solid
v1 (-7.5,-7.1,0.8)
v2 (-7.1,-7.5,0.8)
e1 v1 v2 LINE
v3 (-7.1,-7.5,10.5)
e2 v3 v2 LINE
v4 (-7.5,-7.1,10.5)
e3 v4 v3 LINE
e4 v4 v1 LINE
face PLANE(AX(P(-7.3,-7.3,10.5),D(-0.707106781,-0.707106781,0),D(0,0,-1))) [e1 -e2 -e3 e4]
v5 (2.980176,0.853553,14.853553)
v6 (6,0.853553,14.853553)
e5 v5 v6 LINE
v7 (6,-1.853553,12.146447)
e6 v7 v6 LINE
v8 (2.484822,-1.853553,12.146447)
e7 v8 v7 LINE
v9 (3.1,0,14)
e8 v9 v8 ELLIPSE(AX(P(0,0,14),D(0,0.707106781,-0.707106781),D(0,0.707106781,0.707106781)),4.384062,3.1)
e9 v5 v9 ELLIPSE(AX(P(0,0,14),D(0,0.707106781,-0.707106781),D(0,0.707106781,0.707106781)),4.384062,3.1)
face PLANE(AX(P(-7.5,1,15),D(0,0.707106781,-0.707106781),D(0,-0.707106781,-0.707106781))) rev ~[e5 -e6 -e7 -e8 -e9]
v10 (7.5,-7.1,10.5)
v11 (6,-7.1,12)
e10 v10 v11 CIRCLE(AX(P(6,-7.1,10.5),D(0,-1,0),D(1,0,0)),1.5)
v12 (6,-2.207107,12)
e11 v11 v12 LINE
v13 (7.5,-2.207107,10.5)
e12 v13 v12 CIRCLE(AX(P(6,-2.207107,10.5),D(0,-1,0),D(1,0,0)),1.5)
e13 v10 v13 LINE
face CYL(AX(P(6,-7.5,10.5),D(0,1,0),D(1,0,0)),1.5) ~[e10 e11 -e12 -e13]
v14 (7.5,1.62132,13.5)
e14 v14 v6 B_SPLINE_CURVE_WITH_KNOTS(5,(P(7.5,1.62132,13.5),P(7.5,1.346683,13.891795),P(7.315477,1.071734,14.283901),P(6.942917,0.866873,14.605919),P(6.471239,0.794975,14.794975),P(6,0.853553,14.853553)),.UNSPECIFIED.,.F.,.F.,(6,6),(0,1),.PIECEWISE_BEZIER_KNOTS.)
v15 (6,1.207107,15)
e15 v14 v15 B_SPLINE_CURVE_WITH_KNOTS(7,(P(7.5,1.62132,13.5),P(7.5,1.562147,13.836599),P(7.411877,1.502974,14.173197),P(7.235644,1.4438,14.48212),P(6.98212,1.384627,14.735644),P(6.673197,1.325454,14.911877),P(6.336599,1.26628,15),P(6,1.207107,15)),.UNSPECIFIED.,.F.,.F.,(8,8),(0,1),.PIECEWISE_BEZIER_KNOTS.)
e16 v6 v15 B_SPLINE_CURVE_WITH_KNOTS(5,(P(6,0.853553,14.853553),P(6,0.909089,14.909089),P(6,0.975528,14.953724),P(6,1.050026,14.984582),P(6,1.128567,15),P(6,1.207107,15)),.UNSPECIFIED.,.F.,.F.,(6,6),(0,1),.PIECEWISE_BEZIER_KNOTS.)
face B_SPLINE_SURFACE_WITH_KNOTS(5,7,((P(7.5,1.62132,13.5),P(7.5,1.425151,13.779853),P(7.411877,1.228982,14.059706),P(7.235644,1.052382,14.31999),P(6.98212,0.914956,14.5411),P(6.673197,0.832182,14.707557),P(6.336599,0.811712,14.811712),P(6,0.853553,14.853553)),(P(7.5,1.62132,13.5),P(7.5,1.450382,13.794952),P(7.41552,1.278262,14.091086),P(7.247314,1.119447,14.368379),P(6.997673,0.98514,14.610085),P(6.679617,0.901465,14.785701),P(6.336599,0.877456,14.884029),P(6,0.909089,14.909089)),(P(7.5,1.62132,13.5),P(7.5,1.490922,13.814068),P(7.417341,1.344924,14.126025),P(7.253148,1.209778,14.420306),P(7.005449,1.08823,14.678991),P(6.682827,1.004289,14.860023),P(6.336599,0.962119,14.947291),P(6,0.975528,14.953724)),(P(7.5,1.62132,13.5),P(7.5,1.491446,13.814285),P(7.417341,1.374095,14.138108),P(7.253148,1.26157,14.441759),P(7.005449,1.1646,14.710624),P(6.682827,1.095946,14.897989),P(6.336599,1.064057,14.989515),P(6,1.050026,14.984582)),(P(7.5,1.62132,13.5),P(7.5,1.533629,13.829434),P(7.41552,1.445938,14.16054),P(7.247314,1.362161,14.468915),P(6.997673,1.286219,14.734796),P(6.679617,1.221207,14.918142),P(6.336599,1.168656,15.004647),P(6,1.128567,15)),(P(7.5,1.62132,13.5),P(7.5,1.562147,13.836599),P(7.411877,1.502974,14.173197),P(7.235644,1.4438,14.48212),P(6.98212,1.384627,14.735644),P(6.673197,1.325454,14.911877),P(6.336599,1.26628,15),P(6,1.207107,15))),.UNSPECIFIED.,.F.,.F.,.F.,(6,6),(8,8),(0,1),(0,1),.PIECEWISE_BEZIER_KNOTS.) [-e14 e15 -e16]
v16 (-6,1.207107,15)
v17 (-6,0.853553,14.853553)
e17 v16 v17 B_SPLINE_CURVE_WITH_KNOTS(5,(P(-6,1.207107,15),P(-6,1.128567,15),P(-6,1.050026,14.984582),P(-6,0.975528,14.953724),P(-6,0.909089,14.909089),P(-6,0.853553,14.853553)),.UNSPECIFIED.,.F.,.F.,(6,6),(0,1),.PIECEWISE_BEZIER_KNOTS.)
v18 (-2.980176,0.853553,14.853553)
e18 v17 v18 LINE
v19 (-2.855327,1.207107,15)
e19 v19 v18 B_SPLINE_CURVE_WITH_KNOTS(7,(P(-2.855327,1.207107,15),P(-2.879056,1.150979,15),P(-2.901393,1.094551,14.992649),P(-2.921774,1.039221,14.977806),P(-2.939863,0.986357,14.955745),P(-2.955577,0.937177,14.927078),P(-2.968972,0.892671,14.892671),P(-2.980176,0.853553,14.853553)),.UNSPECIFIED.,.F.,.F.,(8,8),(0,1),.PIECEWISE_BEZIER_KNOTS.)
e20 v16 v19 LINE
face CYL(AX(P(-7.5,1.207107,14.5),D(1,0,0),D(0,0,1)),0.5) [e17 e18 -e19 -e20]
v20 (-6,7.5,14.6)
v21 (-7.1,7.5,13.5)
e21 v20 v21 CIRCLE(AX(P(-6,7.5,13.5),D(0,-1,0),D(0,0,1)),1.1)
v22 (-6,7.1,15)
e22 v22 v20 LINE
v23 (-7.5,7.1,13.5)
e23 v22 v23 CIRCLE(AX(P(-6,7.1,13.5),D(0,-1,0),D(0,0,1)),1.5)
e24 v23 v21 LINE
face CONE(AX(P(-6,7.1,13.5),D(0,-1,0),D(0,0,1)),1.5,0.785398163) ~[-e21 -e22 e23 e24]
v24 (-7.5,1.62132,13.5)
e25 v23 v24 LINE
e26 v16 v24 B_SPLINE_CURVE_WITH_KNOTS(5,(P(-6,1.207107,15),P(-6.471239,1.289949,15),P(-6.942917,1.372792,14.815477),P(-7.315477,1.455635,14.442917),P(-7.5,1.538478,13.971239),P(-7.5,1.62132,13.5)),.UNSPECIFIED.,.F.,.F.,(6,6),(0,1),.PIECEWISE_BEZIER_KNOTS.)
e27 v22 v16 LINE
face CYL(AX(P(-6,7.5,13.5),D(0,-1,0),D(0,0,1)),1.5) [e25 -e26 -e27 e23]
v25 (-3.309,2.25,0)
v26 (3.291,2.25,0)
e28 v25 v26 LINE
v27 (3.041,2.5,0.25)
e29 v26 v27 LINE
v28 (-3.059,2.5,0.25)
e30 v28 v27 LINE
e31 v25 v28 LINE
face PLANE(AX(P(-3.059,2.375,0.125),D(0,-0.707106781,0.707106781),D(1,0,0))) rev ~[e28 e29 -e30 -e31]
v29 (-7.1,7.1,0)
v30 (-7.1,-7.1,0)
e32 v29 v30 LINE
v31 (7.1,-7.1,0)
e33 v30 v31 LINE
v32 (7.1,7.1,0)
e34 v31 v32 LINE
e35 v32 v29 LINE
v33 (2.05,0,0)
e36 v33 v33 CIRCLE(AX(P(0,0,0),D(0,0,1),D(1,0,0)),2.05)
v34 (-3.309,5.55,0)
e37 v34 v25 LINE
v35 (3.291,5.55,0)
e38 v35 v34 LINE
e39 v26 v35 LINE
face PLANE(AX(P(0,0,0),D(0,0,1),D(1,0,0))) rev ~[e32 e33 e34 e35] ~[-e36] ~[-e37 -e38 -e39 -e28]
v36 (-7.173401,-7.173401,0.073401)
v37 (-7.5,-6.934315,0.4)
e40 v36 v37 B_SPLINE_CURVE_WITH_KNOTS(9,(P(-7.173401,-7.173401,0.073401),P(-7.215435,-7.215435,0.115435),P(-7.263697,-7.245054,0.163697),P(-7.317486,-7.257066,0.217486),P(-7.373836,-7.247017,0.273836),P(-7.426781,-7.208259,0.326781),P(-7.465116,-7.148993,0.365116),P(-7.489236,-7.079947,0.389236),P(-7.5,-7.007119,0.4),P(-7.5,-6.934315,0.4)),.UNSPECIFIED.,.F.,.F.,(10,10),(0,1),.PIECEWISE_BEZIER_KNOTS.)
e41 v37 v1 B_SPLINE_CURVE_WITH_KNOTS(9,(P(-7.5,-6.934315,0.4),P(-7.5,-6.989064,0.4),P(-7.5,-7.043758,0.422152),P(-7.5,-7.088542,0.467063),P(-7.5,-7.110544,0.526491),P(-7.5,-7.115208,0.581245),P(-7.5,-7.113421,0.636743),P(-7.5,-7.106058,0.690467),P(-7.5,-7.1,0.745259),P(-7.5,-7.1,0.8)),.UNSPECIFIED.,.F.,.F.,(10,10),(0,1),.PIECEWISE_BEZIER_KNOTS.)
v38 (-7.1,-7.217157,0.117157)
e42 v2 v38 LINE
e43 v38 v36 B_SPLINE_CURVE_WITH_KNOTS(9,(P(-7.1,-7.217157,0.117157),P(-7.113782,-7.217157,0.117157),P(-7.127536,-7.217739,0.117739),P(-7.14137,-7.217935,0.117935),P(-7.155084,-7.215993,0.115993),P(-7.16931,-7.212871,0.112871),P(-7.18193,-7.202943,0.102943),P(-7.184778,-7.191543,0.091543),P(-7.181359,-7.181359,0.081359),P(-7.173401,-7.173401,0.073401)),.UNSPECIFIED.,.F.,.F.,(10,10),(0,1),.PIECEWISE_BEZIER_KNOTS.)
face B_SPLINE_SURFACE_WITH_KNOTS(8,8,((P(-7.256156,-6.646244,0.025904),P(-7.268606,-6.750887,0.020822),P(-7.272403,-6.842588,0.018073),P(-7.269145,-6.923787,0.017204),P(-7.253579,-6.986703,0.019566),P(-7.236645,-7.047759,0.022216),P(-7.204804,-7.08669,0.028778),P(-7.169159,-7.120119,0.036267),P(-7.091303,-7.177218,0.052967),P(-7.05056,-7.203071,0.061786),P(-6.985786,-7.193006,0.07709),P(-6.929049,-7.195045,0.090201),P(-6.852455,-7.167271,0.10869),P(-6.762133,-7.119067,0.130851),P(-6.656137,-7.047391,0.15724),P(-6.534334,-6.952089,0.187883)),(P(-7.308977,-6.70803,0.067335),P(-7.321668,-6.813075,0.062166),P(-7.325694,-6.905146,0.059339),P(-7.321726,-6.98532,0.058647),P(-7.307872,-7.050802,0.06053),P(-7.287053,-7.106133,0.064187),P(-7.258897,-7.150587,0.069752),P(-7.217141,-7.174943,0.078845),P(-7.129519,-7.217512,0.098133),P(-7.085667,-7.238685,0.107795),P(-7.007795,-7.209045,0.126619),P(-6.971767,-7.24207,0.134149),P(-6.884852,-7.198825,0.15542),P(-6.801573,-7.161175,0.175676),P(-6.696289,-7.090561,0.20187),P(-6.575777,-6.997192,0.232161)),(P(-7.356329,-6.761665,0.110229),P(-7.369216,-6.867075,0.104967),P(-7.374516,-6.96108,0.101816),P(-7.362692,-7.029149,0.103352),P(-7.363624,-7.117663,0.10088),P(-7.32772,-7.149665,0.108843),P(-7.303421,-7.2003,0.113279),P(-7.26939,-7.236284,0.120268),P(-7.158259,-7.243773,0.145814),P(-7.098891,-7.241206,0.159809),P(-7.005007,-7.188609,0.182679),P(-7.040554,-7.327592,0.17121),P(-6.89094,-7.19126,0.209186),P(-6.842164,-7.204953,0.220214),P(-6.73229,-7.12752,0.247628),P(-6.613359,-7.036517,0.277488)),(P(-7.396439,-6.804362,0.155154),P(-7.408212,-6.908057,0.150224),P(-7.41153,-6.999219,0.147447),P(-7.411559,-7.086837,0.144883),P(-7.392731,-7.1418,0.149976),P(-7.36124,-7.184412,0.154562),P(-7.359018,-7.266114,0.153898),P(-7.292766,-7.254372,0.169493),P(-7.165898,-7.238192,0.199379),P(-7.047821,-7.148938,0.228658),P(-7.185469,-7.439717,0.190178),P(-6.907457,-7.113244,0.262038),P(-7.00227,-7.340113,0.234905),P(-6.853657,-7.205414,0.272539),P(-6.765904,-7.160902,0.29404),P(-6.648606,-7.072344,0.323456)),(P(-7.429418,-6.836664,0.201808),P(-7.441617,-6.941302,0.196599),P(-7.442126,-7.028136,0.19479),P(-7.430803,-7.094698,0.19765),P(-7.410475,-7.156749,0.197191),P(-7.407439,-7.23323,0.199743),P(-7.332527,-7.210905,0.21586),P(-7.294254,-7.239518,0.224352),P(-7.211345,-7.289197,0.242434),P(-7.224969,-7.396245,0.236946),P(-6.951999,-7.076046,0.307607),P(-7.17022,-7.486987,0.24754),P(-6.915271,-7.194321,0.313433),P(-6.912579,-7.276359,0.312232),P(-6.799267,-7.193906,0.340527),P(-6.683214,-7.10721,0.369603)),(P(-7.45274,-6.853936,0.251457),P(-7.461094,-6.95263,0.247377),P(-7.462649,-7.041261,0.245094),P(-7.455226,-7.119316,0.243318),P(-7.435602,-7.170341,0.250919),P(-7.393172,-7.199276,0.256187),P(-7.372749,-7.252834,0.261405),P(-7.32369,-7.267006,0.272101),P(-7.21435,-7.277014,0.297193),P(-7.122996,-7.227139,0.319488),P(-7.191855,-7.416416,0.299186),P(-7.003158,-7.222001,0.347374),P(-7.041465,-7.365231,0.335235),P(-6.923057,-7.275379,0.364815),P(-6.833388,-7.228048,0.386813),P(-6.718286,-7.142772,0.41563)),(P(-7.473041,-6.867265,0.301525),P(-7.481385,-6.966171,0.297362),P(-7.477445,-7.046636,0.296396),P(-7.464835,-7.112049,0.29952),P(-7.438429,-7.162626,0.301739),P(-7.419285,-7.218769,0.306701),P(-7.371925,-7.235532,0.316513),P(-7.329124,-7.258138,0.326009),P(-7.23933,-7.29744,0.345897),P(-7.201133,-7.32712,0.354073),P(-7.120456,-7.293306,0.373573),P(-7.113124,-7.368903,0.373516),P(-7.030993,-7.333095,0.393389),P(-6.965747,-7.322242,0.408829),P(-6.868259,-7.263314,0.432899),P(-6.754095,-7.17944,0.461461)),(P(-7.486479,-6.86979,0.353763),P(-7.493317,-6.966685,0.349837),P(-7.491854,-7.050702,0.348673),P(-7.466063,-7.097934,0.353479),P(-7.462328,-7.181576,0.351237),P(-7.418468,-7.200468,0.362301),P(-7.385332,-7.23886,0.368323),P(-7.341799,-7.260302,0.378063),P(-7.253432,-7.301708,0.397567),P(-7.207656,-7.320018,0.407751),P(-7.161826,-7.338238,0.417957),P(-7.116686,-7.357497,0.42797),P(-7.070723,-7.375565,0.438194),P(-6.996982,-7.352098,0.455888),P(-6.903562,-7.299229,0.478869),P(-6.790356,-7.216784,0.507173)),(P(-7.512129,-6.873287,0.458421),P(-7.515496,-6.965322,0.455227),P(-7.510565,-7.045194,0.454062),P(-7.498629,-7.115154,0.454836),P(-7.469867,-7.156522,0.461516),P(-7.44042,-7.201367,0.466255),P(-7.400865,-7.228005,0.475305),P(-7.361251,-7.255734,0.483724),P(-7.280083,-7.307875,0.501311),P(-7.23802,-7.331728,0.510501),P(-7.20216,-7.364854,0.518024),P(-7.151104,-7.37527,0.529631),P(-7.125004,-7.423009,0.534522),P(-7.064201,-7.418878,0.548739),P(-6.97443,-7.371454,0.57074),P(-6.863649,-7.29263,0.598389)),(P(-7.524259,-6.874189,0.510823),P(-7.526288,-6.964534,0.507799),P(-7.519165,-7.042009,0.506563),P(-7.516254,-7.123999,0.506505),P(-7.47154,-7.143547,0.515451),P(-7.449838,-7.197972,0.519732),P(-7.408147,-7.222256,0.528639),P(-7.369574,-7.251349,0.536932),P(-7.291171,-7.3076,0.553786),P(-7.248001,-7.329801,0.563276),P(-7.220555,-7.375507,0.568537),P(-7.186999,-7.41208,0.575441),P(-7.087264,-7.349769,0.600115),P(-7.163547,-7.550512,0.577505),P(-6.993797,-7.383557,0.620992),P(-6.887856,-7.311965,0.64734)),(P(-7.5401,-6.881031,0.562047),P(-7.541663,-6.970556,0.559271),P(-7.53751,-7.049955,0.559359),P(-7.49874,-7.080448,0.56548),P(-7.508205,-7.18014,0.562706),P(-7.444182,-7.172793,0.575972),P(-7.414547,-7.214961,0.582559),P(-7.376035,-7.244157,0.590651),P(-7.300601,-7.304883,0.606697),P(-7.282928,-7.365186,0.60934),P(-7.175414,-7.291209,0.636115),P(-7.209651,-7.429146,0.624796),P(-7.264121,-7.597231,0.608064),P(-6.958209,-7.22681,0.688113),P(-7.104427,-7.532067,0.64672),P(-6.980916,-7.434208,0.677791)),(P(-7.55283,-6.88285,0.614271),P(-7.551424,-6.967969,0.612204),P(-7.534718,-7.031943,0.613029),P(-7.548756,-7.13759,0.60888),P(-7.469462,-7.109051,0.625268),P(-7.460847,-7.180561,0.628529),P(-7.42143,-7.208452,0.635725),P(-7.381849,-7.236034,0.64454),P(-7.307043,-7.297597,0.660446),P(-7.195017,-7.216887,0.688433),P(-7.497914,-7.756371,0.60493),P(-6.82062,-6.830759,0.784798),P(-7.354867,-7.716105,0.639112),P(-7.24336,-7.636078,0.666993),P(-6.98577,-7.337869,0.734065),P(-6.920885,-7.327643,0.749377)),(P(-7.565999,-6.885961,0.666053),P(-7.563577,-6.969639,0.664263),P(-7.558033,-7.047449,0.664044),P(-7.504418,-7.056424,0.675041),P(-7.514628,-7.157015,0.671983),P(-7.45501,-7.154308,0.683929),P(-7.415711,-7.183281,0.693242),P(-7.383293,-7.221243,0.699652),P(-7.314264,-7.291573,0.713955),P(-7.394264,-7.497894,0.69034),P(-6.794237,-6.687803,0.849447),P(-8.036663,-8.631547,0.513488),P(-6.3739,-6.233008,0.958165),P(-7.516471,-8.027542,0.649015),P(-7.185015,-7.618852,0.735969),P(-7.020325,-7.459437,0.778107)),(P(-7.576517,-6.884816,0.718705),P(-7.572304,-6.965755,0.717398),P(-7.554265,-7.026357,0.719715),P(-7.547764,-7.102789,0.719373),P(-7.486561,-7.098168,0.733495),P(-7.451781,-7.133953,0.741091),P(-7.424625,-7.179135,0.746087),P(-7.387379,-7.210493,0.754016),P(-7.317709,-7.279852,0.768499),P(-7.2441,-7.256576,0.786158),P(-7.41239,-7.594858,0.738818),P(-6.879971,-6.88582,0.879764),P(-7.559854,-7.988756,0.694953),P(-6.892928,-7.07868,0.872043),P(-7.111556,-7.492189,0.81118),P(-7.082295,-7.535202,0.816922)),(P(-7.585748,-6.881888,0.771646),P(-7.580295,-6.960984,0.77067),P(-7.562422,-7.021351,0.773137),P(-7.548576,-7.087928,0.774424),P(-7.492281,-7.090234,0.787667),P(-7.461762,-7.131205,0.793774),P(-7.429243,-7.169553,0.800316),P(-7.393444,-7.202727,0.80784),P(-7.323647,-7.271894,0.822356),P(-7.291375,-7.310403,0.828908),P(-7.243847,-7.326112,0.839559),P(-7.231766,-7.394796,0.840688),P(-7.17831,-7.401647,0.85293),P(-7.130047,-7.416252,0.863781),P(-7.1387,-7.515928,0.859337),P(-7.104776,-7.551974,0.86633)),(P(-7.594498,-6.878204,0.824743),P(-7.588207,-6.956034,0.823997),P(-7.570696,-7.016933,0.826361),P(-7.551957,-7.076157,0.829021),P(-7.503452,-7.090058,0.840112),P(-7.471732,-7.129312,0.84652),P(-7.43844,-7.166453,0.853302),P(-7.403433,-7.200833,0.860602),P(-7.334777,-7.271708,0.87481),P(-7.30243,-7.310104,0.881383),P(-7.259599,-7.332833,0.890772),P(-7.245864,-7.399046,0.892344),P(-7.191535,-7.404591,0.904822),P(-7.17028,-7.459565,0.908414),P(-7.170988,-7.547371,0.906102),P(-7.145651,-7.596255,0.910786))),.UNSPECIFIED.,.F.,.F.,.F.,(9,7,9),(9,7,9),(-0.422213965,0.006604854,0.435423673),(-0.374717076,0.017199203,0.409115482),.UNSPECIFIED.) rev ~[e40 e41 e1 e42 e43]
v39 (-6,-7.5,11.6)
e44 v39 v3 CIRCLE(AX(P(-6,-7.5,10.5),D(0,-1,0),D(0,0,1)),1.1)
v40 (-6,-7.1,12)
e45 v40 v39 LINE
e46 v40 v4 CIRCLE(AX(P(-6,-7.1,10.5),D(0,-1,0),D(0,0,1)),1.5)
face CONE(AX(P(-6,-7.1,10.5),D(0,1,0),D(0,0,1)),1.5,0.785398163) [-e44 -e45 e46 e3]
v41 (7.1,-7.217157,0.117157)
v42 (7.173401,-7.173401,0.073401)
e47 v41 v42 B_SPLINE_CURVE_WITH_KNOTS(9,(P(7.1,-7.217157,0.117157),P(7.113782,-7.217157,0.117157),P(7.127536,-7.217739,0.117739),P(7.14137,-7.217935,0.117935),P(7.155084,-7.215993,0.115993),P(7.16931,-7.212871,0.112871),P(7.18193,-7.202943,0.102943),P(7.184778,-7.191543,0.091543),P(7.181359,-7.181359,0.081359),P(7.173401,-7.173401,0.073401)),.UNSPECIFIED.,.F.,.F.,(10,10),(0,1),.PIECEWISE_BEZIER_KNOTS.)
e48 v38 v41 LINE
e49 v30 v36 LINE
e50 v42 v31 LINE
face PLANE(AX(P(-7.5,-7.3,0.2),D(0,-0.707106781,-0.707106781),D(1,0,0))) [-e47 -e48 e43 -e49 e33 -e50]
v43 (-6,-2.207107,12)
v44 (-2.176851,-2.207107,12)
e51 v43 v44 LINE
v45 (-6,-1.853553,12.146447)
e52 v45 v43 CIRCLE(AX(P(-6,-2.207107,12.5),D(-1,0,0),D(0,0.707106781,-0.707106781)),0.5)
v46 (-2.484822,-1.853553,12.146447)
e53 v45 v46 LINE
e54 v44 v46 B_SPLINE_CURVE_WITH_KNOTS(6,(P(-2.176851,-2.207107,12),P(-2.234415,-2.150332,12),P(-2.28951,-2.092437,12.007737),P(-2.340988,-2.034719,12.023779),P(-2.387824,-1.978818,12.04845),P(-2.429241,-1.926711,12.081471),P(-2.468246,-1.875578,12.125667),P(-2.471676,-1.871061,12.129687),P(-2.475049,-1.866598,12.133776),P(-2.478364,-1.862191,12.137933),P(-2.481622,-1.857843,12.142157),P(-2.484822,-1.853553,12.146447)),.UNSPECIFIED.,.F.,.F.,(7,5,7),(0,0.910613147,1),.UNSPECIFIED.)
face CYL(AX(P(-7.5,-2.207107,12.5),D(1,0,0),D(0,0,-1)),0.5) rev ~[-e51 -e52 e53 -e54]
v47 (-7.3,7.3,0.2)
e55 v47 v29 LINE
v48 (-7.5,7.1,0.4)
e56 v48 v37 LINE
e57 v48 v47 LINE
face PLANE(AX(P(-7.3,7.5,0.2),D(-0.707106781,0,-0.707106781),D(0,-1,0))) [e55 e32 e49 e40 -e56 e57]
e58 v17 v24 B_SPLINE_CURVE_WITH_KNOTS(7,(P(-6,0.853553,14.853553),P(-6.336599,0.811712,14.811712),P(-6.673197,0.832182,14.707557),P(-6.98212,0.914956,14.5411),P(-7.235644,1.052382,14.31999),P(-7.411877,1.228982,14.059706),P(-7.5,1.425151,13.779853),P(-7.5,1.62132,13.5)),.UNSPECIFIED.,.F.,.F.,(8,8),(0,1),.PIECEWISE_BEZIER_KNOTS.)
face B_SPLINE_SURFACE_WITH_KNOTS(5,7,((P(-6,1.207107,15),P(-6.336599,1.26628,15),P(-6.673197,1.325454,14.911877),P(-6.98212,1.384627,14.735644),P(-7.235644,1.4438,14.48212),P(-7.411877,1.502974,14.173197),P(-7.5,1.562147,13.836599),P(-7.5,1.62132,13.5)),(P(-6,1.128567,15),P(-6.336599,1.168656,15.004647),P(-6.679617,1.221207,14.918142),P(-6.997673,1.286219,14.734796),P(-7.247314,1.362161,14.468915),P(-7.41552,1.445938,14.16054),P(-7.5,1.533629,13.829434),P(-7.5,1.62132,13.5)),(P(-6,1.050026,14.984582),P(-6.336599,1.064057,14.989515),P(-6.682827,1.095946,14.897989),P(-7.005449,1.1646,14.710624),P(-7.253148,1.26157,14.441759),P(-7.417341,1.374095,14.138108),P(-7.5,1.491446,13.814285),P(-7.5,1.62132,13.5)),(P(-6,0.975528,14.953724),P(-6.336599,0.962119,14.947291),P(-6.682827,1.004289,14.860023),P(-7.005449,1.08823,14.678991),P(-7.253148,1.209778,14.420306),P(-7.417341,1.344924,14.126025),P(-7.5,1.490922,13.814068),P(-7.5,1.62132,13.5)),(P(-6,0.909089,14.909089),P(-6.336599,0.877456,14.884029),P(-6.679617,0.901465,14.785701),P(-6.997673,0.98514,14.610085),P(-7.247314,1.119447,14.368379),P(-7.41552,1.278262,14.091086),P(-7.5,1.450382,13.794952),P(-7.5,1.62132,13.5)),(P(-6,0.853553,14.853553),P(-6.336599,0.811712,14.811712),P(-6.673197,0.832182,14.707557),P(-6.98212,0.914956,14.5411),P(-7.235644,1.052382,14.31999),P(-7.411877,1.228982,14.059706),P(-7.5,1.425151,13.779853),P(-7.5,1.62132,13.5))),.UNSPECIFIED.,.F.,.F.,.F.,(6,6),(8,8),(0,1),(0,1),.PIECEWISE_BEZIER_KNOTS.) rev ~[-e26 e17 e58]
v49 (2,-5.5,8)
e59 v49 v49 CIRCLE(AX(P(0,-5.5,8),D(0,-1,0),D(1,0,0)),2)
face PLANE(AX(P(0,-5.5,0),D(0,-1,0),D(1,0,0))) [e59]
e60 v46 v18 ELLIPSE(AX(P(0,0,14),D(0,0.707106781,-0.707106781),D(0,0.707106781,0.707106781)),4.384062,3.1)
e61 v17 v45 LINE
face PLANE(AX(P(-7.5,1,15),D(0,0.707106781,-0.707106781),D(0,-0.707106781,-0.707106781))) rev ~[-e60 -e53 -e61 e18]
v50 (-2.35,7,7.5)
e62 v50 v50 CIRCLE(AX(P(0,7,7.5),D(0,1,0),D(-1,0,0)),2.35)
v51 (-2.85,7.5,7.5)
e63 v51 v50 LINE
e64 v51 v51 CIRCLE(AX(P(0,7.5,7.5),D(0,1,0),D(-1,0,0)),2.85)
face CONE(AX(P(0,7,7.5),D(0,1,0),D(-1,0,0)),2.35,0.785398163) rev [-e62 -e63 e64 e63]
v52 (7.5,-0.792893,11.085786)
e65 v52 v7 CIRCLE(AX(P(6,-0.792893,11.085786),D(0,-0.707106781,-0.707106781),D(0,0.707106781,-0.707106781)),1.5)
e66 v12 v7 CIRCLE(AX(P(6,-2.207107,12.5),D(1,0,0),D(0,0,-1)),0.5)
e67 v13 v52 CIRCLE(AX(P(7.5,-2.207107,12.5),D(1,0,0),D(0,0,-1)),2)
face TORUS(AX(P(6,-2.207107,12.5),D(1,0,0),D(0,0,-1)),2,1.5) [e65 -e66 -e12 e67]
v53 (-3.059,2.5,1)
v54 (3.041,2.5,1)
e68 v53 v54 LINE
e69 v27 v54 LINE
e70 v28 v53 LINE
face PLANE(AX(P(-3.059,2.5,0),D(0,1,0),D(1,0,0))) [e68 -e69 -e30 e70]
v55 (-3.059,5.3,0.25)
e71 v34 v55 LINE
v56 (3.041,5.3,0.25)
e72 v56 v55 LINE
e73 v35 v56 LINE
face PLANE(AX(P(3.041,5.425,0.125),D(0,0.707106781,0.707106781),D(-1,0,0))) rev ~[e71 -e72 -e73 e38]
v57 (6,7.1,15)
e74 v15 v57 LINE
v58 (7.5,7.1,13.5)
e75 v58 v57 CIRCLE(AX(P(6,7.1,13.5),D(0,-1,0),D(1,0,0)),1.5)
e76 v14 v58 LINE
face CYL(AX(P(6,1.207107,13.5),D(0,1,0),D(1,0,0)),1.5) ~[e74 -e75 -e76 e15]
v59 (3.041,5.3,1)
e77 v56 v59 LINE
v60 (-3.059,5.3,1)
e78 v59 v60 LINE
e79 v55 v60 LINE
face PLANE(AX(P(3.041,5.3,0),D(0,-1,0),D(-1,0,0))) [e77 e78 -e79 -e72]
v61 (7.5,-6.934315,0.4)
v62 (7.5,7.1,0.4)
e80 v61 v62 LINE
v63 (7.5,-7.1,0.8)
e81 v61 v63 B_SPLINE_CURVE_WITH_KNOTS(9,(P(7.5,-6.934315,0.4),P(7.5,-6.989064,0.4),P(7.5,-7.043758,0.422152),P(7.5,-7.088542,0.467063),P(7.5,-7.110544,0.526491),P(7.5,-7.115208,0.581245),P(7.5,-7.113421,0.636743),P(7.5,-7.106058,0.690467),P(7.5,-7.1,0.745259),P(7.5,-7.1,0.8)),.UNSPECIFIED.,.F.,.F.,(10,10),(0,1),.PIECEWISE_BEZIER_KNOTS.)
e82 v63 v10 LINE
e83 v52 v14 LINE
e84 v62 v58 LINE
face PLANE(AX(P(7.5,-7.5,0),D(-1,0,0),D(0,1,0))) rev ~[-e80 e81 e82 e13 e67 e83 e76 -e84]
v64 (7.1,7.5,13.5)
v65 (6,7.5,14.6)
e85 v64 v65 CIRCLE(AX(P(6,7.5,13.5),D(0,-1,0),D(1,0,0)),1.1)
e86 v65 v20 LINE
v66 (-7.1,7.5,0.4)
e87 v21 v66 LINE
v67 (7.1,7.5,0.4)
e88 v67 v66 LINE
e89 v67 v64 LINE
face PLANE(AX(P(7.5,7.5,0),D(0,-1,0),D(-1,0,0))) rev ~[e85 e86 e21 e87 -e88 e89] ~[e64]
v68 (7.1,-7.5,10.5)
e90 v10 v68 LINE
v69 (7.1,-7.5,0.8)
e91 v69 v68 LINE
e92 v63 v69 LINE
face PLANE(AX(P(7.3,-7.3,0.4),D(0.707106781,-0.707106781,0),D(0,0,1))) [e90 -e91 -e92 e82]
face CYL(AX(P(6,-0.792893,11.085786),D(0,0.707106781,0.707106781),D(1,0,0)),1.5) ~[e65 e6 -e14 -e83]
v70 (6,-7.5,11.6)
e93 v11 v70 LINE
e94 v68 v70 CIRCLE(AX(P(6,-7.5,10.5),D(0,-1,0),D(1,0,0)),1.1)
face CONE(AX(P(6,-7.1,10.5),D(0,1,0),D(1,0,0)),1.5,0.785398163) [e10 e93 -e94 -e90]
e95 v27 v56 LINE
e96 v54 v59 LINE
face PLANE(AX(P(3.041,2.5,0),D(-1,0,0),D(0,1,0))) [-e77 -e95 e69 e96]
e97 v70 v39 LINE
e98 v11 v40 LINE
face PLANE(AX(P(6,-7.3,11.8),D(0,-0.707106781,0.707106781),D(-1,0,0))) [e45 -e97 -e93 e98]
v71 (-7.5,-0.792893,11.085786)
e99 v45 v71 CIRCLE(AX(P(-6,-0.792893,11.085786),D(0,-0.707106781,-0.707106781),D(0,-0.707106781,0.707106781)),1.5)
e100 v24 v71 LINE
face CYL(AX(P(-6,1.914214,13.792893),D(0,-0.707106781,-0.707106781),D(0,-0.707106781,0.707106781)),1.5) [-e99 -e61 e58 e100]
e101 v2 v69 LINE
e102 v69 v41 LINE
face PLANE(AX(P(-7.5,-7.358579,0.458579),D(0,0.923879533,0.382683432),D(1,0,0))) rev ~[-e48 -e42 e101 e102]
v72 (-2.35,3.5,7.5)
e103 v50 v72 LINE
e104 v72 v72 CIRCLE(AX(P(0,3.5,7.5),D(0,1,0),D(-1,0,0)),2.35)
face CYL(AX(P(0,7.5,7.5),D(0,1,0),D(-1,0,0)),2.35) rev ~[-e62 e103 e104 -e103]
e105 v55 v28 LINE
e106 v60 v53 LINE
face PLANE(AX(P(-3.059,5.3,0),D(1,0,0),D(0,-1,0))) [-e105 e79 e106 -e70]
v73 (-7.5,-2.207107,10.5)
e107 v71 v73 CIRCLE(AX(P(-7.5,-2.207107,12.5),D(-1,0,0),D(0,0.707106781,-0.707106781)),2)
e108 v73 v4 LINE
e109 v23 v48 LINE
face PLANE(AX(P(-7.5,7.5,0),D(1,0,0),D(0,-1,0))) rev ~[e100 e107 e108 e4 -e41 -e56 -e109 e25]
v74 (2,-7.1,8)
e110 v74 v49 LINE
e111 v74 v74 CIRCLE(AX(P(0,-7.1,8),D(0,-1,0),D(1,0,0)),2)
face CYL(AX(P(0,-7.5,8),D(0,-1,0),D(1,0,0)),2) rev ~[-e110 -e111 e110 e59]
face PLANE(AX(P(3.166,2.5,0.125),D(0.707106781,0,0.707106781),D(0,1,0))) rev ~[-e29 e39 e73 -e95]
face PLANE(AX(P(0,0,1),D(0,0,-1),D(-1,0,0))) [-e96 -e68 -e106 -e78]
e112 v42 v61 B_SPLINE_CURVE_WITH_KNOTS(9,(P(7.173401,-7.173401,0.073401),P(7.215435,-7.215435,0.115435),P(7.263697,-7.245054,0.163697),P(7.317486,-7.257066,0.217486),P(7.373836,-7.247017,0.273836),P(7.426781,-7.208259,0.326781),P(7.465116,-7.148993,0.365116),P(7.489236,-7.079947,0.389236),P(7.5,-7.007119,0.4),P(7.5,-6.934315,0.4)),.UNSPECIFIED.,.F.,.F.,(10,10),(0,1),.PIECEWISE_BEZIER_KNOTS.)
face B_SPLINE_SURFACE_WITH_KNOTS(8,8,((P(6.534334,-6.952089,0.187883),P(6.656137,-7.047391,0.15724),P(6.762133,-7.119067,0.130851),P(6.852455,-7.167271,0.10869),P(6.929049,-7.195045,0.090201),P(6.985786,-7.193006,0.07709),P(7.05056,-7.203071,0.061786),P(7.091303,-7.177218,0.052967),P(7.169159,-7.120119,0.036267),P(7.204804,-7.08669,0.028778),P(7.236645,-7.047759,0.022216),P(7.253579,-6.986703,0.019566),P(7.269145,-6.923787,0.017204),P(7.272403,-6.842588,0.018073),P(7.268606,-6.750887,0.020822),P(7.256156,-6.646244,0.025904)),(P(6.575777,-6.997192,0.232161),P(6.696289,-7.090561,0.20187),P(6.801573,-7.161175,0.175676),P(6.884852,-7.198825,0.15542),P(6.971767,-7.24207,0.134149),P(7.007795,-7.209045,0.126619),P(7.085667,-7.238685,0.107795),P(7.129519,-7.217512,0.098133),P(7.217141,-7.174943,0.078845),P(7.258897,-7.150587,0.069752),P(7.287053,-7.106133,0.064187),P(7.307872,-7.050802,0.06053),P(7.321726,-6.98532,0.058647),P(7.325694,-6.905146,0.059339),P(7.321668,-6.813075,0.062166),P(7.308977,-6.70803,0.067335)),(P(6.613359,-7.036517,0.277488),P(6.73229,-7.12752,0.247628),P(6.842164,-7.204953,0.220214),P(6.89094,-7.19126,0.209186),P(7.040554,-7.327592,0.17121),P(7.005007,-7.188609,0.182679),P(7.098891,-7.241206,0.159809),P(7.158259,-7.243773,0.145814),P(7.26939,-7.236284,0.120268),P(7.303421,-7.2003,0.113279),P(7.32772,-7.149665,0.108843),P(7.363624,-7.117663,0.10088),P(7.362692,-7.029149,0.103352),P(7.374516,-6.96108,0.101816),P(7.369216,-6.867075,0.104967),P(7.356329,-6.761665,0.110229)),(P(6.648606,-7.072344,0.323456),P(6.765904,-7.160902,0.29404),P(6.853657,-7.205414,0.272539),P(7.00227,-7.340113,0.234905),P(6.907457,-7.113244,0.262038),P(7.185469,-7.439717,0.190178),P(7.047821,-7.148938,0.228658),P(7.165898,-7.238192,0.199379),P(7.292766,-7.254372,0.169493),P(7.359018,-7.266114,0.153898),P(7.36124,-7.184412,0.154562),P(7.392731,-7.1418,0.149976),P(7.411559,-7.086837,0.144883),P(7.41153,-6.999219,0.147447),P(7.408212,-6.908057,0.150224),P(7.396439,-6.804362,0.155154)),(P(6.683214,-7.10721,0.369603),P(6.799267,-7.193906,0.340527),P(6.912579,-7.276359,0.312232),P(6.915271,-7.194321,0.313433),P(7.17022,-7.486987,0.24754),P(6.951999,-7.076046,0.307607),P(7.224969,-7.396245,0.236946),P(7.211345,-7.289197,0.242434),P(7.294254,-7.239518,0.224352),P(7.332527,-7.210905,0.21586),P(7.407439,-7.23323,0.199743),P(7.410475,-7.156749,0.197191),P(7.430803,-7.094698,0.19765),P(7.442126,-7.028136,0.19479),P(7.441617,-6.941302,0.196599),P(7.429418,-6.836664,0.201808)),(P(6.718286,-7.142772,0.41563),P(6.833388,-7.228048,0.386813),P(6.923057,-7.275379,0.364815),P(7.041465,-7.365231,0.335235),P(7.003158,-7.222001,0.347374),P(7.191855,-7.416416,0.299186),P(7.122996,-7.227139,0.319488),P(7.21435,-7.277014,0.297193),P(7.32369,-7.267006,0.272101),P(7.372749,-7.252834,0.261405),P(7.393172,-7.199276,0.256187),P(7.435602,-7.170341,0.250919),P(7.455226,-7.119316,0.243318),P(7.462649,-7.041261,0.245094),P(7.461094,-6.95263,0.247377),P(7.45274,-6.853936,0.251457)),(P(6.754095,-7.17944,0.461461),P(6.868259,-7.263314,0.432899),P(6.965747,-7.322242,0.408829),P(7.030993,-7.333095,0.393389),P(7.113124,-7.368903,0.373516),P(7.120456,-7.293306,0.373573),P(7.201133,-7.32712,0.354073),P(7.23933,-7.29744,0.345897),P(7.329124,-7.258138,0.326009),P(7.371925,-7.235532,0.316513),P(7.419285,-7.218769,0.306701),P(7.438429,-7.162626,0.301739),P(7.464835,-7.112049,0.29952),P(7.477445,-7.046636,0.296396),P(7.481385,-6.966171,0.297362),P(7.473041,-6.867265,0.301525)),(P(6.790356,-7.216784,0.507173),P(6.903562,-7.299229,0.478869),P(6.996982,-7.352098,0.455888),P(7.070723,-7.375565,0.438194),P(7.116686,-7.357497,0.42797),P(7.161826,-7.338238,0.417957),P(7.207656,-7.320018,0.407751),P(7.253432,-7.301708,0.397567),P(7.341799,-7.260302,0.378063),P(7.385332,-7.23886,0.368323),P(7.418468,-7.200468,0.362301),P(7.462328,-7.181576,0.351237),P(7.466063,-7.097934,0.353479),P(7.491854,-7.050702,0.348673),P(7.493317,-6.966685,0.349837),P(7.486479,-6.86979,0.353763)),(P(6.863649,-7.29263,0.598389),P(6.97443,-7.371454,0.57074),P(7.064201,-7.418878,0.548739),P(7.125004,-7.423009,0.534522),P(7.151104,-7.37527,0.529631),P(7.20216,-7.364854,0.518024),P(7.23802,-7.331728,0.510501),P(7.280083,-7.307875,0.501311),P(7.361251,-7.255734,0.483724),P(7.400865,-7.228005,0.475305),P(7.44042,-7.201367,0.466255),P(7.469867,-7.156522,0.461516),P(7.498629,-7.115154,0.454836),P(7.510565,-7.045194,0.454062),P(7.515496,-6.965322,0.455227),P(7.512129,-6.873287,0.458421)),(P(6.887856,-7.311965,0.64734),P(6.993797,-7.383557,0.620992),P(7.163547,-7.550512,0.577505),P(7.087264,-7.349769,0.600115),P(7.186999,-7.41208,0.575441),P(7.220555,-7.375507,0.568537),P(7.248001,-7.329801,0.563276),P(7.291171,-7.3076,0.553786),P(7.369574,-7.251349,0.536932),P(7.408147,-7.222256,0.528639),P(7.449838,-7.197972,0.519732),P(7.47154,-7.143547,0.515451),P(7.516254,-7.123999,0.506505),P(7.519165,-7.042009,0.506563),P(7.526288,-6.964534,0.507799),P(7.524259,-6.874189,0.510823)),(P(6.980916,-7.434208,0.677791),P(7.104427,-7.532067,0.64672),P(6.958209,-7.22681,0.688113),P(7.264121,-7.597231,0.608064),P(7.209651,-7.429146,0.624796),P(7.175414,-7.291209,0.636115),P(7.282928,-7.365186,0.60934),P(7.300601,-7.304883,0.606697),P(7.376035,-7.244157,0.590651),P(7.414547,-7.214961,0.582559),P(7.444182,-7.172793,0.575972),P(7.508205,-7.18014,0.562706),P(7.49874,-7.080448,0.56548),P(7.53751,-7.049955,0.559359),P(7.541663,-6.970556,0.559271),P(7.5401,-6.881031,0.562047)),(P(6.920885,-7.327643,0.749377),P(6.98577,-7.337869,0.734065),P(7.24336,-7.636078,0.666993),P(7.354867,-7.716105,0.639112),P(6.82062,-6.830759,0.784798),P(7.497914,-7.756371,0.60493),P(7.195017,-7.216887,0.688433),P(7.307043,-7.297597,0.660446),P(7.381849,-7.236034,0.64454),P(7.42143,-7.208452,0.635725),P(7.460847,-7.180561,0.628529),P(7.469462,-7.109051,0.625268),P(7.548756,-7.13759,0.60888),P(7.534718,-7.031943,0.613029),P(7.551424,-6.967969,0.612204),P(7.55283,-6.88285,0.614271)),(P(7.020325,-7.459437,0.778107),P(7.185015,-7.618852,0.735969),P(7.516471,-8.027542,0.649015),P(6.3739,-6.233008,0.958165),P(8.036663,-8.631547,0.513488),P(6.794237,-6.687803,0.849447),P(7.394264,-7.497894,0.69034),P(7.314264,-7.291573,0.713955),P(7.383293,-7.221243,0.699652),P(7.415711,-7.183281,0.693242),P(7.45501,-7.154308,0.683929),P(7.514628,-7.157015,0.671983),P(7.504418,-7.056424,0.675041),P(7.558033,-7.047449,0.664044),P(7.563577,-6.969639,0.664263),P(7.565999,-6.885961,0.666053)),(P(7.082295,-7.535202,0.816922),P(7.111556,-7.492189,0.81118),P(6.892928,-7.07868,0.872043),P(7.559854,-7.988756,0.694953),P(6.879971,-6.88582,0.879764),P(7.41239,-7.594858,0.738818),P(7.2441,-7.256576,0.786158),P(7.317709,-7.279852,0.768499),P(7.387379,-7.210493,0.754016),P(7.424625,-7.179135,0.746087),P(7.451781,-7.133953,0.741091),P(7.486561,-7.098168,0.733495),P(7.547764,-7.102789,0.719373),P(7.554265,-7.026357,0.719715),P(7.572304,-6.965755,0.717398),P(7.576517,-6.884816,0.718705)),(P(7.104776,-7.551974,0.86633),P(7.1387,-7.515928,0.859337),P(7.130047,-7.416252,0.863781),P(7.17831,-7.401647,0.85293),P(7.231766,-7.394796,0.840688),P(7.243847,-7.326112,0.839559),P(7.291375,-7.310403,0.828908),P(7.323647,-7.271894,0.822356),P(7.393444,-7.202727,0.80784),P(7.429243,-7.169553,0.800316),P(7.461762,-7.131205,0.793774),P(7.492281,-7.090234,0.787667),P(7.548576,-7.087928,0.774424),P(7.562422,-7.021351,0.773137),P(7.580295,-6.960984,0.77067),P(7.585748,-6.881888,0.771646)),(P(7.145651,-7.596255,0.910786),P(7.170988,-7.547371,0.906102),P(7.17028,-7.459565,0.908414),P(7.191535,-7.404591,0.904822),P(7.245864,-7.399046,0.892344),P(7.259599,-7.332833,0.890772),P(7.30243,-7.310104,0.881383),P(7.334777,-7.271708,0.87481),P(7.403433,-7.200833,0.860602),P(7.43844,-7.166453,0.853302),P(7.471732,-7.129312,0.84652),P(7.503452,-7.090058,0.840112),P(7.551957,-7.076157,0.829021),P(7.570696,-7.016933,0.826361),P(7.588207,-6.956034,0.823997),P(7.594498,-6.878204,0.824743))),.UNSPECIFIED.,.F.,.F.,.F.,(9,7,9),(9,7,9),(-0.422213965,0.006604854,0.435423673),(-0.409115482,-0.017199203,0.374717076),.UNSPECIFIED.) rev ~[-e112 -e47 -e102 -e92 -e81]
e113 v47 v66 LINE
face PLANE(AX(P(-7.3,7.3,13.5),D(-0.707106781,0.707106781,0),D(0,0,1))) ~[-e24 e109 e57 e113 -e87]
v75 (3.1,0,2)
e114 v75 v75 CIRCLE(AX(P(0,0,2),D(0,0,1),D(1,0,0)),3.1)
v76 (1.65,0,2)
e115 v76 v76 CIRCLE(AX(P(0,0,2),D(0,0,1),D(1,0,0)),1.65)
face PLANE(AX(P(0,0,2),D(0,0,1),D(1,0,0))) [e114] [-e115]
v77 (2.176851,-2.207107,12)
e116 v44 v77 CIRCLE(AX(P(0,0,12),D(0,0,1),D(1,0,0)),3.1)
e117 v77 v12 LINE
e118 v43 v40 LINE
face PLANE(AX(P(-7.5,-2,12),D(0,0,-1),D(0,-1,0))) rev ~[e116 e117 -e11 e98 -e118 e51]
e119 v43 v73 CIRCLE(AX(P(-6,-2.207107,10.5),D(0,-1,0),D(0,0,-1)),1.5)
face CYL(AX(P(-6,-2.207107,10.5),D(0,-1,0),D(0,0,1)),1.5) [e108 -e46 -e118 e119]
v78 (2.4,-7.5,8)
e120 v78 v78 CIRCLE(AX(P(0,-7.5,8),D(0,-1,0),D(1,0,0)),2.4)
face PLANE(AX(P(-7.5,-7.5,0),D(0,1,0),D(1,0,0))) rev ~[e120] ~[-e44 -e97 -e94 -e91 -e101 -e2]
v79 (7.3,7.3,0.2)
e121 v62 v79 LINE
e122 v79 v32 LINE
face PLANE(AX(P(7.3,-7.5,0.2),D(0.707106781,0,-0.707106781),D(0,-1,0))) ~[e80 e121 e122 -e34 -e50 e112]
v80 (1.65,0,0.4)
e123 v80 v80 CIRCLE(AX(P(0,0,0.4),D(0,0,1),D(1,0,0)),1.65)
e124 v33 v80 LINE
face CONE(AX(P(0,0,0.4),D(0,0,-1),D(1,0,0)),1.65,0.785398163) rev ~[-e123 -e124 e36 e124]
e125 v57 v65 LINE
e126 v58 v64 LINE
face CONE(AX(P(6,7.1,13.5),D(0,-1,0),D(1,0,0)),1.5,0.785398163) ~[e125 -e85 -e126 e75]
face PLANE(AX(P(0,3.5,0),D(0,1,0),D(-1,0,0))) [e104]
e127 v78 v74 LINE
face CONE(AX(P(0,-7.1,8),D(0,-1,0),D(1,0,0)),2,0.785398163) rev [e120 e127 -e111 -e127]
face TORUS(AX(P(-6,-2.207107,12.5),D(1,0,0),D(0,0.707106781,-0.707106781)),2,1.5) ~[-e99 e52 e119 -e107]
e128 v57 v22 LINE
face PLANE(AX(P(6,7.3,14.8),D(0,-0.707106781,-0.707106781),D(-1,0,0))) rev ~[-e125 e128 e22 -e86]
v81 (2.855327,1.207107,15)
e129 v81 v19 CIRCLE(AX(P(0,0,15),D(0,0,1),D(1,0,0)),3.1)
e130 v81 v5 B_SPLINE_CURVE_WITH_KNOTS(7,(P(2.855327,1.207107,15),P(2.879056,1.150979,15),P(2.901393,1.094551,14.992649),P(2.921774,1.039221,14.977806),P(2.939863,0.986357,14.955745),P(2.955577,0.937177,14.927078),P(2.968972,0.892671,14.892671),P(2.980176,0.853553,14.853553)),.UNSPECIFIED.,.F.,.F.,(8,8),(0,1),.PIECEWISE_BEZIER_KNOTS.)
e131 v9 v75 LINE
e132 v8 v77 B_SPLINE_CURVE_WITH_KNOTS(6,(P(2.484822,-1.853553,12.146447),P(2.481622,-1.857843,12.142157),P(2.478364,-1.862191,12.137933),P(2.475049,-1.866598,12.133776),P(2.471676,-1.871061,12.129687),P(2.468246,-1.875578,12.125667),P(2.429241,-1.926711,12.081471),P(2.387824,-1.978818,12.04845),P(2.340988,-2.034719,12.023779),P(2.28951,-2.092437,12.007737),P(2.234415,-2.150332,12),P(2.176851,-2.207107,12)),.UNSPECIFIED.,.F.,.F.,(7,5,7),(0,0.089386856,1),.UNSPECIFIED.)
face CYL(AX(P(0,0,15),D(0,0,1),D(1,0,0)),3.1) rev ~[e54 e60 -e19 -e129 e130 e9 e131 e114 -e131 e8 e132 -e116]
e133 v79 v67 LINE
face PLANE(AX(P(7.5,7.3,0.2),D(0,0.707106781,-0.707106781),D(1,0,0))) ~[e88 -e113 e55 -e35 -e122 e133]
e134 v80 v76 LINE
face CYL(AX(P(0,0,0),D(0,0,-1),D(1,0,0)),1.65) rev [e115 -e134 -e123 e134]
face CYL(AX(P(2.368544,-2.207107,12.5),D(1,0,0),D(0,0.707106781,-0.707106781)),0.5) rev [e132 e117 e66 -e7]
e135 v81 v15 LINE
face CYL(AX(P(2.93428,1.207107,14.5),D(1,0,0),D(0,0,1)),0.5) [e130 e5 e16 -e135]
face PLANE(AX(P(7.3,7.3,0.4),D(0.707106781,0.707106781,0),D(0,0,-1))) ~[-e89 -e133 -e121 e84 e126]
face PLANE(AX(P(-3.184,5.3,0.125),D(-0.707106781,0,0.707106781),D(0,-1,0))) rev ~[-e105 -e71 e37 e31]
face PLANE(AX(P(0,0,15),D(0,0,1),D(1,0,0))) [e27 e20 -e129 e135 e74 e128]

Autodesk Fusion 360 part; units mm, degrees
sketch "Sketch1" plane through (0, 0, 0) normal (0, 0, 1) x (1, 0, 0)
  line L0 (7.5, 7.5) -> (-7.5, 7.5)
  line L1 (-7.5, 7.5) -> (-7.5, -7.5)
  line L2 (-7.5, -7.5) -> (7.5, -7.5)
  line L3 (7.5, -7.5) -> (7.5, 7.5)
  line L4 (7.5, 7.5) -> (-7.5, -7.5) construction
  line L5 (-7.5, 7.5) -> (7.5, -7.5) construction
  circle A0 centre (0, 0) radius 1.65
  circle A1 centre (0, 0) radius 3.1
  dimension "d1" = 15
  dimension "d2" = 15
  dimension "d3" = 3.3
  dimension "d9" = 6.2
extrude "Extrude1" add sketch "Sketch1" along normal blind 15 contours L0 L1 L2 L3 | A1
sketch "Sketch2" plane through (0, 7.5, 0) normal (0, 1, 0) x (-1, 0, 0)
  line L0 (-7.5, 0) -> (7.5, 0)
  line L1 (7.5, 0) -> (7.5, 15)
  line L2 (7.5, 15) -> (-7.5, 15)
  line L3 (-7.5, 15) -> (-7.5, 0)
  circle A0 centre (0, 7.5) radius 2.35
  dimension "d6" = 4.7
extrude "Extrude2" cut sketch "Sketch2" against normal blind 4 contours A0
sketch "Sketch3" plane through (0, 0, 15) normal (0, 0, 1) x (1, 0, 0)
  circle A0 centre (0, 0) radius 1.65
  line L0 (7.5, -7.5) -> (7.5, 7.5)
  line L1 (7.5, 7.5) -> (-7.5, 7.5)
  line L2 (-7.5, 7.5) -> (-7.5, -7.5)
  line L3 (-7.5, -7.5) -> (7.5, -7.5)
  circle A1 centre (0, 0) radius 3.1
extrude "Extrude3" cut sketch "Sketch3" against normal blind 13 contours A1
sketch "Sketch4" plane through (-7.5, 0, 0) normal (-1, 0, 0) x (0, 0, 1)
  line L0 (0, 7.5) -> (0, -7.5)
  line L1 (0, -7.5) -> (15, -7.5)
  line L2 (15, -7.5) -> (15, 7.5)
  line L3 (15, 7.5) -> (0, 7.5)
  line L4 (15, 1) -> (12, -2)
  line L5 (0, -7.5) -> (12, -7.5)
  line L6 (15, 1) -> (15, 7.5)
  line L7 (5.15, 3.5) -> (9.85, 3.5)
  line L8 (5.15, 7.5) -> (9.85, 7.5)
  line L9 (12, -4) -> (0, -4)
  line L10 (12, -2) -> (12, -4)
  line L11 (12, -4) -> (12, -7.5)
  dimension "d12" = 12
  dimension "d20" = 3
  dimension "d21" = 3.5
  dimension "d22" = 135
  dimension "d23" = 5.5
extrude "Extrude4" cut sketch "Sketch4" against normal blind 186 contours L1 L2 L4 L10 L11
fillet "Fillet1" radius 0.5 4 edges at (-5.2171, 1, 15) (5.2171, 1, 15) (4.9343, -2, 12) (-4.9343, -2, 12)
fillet "Fillet2" radius 1.5 10 edges at (7.5, 4.3536, 15) (7.5, 1.0158, 14.9619) (7.5, -0.5, 13.5) (7.5, -2.0158, 12.0381) (7.5, -4.8536, 12) (-7.5, 4.3536, 15) (-7.5, 1.0158, 14.9619) (-7.5, -0.5, 13.5) (-7.5, -2.0158, 12.0381) (-7.5, -4.8536, 12)
chamfer "Chamfer2" distance 0.5 angle 45 1 edges at (2.191, 7.5, 8.3498)
chamfer "Chamfer1" distance 0.4 angle 45 1 faces at (0.0411, -5.5485, 0)
chamfer "Chamfer3" distance 0.4 angle 45 1 faces at (2, -7.5, 4.2667)
sketch "Sketch5" plane through (0, -7.5, 0) normal (0, -1, 0) x (1, 0, 0)
  line L0 (7.1, 0.8) -> (7.1, 10.5)
  line L1 (-7.1, 10.5) -> (-7.1, 0.8)
  line L2 (-7.1, 0.8) -> (7.1, 0.8)
  circle A0 centre (0, 8) radius 2
  line L3 (-7.1, 0) -> (7.1, 0)
  arc A1 (7.1, 10.5) -> (6, 11.6) centre (6, 10.5) ccw
  line L4 (6, 11.6) -> (-6, 11.6)
  arc A2 (-6, 11.6) -> (-7.1, 10.5) centre (-6, 10.5) ccw
  line L5 (6, 12) -> (-6, 12)
  dimension "d28" = 8
  dimension "d29" = 4
  dimension "d34" = 4
extrude "Extrude5" cut sketch "Sketch5" against normal blind 2 contours A0
chamfer "Chamfer4" distance 0.4 angle 45 6 edges at (-1.8647, -7.5, 8.7232) (7.5, 7.5, 6.95) (7.0607, 7.5, 14.5607) (0, 7.5, 15) (-7.0607, 7.5, 14.5607) (-7.5, 7.5, 6.95)
sketch "Sketch6" plane through (0, 0, 0) normal (0, 0, -1) x (-1, 0, 0)
  circle A0 centre (0, 0) radius 2.05
  line L0 (-7.1, 7.1) -> (-7.1, -7.1)
  line L1 (-7.1, -7.1) -> (7.1, -7.1)
  line L2 (7.1, -7.1) -> (7.1, 7.1)
  line L3 (7.1, 7.1) -> (-7.1, 7.1)
  line L4 (-3.041, 5.3) -> (3.059, 5.3)
  line L5 (3.059, 5.3) -> (3.059, 2.5)
  line L6 (3.059, 2.5) -> (-3.041, 2.5)
  line L7 (-3.041, 2.5) -> (-3.041, 5.3)
  line L8 (-7.5, 7.1) -> (-7.5, -7.1)
  line L9 (7.1, 7.5) -> (-7.1, 7.5)
  dimension "d35" = 6.1
  dimension "d36" = 2.8
  dimension "d37" = 4.459
  dimension "d38" = 2.2
extrude "Extrude6" cut sketch "Sketch6" against normal blind 1 contours L4 L5 L6 L7
chamfer "Chamfer5" distance 0.25 angle 45 4 edges at (-3.059, 3.9, 0) (-0.009, 5.3, 0) (-0.009, 2.5, 0) (3.041, 3.9, 0)
equation "d10 = -15 mm + 2 mm"
